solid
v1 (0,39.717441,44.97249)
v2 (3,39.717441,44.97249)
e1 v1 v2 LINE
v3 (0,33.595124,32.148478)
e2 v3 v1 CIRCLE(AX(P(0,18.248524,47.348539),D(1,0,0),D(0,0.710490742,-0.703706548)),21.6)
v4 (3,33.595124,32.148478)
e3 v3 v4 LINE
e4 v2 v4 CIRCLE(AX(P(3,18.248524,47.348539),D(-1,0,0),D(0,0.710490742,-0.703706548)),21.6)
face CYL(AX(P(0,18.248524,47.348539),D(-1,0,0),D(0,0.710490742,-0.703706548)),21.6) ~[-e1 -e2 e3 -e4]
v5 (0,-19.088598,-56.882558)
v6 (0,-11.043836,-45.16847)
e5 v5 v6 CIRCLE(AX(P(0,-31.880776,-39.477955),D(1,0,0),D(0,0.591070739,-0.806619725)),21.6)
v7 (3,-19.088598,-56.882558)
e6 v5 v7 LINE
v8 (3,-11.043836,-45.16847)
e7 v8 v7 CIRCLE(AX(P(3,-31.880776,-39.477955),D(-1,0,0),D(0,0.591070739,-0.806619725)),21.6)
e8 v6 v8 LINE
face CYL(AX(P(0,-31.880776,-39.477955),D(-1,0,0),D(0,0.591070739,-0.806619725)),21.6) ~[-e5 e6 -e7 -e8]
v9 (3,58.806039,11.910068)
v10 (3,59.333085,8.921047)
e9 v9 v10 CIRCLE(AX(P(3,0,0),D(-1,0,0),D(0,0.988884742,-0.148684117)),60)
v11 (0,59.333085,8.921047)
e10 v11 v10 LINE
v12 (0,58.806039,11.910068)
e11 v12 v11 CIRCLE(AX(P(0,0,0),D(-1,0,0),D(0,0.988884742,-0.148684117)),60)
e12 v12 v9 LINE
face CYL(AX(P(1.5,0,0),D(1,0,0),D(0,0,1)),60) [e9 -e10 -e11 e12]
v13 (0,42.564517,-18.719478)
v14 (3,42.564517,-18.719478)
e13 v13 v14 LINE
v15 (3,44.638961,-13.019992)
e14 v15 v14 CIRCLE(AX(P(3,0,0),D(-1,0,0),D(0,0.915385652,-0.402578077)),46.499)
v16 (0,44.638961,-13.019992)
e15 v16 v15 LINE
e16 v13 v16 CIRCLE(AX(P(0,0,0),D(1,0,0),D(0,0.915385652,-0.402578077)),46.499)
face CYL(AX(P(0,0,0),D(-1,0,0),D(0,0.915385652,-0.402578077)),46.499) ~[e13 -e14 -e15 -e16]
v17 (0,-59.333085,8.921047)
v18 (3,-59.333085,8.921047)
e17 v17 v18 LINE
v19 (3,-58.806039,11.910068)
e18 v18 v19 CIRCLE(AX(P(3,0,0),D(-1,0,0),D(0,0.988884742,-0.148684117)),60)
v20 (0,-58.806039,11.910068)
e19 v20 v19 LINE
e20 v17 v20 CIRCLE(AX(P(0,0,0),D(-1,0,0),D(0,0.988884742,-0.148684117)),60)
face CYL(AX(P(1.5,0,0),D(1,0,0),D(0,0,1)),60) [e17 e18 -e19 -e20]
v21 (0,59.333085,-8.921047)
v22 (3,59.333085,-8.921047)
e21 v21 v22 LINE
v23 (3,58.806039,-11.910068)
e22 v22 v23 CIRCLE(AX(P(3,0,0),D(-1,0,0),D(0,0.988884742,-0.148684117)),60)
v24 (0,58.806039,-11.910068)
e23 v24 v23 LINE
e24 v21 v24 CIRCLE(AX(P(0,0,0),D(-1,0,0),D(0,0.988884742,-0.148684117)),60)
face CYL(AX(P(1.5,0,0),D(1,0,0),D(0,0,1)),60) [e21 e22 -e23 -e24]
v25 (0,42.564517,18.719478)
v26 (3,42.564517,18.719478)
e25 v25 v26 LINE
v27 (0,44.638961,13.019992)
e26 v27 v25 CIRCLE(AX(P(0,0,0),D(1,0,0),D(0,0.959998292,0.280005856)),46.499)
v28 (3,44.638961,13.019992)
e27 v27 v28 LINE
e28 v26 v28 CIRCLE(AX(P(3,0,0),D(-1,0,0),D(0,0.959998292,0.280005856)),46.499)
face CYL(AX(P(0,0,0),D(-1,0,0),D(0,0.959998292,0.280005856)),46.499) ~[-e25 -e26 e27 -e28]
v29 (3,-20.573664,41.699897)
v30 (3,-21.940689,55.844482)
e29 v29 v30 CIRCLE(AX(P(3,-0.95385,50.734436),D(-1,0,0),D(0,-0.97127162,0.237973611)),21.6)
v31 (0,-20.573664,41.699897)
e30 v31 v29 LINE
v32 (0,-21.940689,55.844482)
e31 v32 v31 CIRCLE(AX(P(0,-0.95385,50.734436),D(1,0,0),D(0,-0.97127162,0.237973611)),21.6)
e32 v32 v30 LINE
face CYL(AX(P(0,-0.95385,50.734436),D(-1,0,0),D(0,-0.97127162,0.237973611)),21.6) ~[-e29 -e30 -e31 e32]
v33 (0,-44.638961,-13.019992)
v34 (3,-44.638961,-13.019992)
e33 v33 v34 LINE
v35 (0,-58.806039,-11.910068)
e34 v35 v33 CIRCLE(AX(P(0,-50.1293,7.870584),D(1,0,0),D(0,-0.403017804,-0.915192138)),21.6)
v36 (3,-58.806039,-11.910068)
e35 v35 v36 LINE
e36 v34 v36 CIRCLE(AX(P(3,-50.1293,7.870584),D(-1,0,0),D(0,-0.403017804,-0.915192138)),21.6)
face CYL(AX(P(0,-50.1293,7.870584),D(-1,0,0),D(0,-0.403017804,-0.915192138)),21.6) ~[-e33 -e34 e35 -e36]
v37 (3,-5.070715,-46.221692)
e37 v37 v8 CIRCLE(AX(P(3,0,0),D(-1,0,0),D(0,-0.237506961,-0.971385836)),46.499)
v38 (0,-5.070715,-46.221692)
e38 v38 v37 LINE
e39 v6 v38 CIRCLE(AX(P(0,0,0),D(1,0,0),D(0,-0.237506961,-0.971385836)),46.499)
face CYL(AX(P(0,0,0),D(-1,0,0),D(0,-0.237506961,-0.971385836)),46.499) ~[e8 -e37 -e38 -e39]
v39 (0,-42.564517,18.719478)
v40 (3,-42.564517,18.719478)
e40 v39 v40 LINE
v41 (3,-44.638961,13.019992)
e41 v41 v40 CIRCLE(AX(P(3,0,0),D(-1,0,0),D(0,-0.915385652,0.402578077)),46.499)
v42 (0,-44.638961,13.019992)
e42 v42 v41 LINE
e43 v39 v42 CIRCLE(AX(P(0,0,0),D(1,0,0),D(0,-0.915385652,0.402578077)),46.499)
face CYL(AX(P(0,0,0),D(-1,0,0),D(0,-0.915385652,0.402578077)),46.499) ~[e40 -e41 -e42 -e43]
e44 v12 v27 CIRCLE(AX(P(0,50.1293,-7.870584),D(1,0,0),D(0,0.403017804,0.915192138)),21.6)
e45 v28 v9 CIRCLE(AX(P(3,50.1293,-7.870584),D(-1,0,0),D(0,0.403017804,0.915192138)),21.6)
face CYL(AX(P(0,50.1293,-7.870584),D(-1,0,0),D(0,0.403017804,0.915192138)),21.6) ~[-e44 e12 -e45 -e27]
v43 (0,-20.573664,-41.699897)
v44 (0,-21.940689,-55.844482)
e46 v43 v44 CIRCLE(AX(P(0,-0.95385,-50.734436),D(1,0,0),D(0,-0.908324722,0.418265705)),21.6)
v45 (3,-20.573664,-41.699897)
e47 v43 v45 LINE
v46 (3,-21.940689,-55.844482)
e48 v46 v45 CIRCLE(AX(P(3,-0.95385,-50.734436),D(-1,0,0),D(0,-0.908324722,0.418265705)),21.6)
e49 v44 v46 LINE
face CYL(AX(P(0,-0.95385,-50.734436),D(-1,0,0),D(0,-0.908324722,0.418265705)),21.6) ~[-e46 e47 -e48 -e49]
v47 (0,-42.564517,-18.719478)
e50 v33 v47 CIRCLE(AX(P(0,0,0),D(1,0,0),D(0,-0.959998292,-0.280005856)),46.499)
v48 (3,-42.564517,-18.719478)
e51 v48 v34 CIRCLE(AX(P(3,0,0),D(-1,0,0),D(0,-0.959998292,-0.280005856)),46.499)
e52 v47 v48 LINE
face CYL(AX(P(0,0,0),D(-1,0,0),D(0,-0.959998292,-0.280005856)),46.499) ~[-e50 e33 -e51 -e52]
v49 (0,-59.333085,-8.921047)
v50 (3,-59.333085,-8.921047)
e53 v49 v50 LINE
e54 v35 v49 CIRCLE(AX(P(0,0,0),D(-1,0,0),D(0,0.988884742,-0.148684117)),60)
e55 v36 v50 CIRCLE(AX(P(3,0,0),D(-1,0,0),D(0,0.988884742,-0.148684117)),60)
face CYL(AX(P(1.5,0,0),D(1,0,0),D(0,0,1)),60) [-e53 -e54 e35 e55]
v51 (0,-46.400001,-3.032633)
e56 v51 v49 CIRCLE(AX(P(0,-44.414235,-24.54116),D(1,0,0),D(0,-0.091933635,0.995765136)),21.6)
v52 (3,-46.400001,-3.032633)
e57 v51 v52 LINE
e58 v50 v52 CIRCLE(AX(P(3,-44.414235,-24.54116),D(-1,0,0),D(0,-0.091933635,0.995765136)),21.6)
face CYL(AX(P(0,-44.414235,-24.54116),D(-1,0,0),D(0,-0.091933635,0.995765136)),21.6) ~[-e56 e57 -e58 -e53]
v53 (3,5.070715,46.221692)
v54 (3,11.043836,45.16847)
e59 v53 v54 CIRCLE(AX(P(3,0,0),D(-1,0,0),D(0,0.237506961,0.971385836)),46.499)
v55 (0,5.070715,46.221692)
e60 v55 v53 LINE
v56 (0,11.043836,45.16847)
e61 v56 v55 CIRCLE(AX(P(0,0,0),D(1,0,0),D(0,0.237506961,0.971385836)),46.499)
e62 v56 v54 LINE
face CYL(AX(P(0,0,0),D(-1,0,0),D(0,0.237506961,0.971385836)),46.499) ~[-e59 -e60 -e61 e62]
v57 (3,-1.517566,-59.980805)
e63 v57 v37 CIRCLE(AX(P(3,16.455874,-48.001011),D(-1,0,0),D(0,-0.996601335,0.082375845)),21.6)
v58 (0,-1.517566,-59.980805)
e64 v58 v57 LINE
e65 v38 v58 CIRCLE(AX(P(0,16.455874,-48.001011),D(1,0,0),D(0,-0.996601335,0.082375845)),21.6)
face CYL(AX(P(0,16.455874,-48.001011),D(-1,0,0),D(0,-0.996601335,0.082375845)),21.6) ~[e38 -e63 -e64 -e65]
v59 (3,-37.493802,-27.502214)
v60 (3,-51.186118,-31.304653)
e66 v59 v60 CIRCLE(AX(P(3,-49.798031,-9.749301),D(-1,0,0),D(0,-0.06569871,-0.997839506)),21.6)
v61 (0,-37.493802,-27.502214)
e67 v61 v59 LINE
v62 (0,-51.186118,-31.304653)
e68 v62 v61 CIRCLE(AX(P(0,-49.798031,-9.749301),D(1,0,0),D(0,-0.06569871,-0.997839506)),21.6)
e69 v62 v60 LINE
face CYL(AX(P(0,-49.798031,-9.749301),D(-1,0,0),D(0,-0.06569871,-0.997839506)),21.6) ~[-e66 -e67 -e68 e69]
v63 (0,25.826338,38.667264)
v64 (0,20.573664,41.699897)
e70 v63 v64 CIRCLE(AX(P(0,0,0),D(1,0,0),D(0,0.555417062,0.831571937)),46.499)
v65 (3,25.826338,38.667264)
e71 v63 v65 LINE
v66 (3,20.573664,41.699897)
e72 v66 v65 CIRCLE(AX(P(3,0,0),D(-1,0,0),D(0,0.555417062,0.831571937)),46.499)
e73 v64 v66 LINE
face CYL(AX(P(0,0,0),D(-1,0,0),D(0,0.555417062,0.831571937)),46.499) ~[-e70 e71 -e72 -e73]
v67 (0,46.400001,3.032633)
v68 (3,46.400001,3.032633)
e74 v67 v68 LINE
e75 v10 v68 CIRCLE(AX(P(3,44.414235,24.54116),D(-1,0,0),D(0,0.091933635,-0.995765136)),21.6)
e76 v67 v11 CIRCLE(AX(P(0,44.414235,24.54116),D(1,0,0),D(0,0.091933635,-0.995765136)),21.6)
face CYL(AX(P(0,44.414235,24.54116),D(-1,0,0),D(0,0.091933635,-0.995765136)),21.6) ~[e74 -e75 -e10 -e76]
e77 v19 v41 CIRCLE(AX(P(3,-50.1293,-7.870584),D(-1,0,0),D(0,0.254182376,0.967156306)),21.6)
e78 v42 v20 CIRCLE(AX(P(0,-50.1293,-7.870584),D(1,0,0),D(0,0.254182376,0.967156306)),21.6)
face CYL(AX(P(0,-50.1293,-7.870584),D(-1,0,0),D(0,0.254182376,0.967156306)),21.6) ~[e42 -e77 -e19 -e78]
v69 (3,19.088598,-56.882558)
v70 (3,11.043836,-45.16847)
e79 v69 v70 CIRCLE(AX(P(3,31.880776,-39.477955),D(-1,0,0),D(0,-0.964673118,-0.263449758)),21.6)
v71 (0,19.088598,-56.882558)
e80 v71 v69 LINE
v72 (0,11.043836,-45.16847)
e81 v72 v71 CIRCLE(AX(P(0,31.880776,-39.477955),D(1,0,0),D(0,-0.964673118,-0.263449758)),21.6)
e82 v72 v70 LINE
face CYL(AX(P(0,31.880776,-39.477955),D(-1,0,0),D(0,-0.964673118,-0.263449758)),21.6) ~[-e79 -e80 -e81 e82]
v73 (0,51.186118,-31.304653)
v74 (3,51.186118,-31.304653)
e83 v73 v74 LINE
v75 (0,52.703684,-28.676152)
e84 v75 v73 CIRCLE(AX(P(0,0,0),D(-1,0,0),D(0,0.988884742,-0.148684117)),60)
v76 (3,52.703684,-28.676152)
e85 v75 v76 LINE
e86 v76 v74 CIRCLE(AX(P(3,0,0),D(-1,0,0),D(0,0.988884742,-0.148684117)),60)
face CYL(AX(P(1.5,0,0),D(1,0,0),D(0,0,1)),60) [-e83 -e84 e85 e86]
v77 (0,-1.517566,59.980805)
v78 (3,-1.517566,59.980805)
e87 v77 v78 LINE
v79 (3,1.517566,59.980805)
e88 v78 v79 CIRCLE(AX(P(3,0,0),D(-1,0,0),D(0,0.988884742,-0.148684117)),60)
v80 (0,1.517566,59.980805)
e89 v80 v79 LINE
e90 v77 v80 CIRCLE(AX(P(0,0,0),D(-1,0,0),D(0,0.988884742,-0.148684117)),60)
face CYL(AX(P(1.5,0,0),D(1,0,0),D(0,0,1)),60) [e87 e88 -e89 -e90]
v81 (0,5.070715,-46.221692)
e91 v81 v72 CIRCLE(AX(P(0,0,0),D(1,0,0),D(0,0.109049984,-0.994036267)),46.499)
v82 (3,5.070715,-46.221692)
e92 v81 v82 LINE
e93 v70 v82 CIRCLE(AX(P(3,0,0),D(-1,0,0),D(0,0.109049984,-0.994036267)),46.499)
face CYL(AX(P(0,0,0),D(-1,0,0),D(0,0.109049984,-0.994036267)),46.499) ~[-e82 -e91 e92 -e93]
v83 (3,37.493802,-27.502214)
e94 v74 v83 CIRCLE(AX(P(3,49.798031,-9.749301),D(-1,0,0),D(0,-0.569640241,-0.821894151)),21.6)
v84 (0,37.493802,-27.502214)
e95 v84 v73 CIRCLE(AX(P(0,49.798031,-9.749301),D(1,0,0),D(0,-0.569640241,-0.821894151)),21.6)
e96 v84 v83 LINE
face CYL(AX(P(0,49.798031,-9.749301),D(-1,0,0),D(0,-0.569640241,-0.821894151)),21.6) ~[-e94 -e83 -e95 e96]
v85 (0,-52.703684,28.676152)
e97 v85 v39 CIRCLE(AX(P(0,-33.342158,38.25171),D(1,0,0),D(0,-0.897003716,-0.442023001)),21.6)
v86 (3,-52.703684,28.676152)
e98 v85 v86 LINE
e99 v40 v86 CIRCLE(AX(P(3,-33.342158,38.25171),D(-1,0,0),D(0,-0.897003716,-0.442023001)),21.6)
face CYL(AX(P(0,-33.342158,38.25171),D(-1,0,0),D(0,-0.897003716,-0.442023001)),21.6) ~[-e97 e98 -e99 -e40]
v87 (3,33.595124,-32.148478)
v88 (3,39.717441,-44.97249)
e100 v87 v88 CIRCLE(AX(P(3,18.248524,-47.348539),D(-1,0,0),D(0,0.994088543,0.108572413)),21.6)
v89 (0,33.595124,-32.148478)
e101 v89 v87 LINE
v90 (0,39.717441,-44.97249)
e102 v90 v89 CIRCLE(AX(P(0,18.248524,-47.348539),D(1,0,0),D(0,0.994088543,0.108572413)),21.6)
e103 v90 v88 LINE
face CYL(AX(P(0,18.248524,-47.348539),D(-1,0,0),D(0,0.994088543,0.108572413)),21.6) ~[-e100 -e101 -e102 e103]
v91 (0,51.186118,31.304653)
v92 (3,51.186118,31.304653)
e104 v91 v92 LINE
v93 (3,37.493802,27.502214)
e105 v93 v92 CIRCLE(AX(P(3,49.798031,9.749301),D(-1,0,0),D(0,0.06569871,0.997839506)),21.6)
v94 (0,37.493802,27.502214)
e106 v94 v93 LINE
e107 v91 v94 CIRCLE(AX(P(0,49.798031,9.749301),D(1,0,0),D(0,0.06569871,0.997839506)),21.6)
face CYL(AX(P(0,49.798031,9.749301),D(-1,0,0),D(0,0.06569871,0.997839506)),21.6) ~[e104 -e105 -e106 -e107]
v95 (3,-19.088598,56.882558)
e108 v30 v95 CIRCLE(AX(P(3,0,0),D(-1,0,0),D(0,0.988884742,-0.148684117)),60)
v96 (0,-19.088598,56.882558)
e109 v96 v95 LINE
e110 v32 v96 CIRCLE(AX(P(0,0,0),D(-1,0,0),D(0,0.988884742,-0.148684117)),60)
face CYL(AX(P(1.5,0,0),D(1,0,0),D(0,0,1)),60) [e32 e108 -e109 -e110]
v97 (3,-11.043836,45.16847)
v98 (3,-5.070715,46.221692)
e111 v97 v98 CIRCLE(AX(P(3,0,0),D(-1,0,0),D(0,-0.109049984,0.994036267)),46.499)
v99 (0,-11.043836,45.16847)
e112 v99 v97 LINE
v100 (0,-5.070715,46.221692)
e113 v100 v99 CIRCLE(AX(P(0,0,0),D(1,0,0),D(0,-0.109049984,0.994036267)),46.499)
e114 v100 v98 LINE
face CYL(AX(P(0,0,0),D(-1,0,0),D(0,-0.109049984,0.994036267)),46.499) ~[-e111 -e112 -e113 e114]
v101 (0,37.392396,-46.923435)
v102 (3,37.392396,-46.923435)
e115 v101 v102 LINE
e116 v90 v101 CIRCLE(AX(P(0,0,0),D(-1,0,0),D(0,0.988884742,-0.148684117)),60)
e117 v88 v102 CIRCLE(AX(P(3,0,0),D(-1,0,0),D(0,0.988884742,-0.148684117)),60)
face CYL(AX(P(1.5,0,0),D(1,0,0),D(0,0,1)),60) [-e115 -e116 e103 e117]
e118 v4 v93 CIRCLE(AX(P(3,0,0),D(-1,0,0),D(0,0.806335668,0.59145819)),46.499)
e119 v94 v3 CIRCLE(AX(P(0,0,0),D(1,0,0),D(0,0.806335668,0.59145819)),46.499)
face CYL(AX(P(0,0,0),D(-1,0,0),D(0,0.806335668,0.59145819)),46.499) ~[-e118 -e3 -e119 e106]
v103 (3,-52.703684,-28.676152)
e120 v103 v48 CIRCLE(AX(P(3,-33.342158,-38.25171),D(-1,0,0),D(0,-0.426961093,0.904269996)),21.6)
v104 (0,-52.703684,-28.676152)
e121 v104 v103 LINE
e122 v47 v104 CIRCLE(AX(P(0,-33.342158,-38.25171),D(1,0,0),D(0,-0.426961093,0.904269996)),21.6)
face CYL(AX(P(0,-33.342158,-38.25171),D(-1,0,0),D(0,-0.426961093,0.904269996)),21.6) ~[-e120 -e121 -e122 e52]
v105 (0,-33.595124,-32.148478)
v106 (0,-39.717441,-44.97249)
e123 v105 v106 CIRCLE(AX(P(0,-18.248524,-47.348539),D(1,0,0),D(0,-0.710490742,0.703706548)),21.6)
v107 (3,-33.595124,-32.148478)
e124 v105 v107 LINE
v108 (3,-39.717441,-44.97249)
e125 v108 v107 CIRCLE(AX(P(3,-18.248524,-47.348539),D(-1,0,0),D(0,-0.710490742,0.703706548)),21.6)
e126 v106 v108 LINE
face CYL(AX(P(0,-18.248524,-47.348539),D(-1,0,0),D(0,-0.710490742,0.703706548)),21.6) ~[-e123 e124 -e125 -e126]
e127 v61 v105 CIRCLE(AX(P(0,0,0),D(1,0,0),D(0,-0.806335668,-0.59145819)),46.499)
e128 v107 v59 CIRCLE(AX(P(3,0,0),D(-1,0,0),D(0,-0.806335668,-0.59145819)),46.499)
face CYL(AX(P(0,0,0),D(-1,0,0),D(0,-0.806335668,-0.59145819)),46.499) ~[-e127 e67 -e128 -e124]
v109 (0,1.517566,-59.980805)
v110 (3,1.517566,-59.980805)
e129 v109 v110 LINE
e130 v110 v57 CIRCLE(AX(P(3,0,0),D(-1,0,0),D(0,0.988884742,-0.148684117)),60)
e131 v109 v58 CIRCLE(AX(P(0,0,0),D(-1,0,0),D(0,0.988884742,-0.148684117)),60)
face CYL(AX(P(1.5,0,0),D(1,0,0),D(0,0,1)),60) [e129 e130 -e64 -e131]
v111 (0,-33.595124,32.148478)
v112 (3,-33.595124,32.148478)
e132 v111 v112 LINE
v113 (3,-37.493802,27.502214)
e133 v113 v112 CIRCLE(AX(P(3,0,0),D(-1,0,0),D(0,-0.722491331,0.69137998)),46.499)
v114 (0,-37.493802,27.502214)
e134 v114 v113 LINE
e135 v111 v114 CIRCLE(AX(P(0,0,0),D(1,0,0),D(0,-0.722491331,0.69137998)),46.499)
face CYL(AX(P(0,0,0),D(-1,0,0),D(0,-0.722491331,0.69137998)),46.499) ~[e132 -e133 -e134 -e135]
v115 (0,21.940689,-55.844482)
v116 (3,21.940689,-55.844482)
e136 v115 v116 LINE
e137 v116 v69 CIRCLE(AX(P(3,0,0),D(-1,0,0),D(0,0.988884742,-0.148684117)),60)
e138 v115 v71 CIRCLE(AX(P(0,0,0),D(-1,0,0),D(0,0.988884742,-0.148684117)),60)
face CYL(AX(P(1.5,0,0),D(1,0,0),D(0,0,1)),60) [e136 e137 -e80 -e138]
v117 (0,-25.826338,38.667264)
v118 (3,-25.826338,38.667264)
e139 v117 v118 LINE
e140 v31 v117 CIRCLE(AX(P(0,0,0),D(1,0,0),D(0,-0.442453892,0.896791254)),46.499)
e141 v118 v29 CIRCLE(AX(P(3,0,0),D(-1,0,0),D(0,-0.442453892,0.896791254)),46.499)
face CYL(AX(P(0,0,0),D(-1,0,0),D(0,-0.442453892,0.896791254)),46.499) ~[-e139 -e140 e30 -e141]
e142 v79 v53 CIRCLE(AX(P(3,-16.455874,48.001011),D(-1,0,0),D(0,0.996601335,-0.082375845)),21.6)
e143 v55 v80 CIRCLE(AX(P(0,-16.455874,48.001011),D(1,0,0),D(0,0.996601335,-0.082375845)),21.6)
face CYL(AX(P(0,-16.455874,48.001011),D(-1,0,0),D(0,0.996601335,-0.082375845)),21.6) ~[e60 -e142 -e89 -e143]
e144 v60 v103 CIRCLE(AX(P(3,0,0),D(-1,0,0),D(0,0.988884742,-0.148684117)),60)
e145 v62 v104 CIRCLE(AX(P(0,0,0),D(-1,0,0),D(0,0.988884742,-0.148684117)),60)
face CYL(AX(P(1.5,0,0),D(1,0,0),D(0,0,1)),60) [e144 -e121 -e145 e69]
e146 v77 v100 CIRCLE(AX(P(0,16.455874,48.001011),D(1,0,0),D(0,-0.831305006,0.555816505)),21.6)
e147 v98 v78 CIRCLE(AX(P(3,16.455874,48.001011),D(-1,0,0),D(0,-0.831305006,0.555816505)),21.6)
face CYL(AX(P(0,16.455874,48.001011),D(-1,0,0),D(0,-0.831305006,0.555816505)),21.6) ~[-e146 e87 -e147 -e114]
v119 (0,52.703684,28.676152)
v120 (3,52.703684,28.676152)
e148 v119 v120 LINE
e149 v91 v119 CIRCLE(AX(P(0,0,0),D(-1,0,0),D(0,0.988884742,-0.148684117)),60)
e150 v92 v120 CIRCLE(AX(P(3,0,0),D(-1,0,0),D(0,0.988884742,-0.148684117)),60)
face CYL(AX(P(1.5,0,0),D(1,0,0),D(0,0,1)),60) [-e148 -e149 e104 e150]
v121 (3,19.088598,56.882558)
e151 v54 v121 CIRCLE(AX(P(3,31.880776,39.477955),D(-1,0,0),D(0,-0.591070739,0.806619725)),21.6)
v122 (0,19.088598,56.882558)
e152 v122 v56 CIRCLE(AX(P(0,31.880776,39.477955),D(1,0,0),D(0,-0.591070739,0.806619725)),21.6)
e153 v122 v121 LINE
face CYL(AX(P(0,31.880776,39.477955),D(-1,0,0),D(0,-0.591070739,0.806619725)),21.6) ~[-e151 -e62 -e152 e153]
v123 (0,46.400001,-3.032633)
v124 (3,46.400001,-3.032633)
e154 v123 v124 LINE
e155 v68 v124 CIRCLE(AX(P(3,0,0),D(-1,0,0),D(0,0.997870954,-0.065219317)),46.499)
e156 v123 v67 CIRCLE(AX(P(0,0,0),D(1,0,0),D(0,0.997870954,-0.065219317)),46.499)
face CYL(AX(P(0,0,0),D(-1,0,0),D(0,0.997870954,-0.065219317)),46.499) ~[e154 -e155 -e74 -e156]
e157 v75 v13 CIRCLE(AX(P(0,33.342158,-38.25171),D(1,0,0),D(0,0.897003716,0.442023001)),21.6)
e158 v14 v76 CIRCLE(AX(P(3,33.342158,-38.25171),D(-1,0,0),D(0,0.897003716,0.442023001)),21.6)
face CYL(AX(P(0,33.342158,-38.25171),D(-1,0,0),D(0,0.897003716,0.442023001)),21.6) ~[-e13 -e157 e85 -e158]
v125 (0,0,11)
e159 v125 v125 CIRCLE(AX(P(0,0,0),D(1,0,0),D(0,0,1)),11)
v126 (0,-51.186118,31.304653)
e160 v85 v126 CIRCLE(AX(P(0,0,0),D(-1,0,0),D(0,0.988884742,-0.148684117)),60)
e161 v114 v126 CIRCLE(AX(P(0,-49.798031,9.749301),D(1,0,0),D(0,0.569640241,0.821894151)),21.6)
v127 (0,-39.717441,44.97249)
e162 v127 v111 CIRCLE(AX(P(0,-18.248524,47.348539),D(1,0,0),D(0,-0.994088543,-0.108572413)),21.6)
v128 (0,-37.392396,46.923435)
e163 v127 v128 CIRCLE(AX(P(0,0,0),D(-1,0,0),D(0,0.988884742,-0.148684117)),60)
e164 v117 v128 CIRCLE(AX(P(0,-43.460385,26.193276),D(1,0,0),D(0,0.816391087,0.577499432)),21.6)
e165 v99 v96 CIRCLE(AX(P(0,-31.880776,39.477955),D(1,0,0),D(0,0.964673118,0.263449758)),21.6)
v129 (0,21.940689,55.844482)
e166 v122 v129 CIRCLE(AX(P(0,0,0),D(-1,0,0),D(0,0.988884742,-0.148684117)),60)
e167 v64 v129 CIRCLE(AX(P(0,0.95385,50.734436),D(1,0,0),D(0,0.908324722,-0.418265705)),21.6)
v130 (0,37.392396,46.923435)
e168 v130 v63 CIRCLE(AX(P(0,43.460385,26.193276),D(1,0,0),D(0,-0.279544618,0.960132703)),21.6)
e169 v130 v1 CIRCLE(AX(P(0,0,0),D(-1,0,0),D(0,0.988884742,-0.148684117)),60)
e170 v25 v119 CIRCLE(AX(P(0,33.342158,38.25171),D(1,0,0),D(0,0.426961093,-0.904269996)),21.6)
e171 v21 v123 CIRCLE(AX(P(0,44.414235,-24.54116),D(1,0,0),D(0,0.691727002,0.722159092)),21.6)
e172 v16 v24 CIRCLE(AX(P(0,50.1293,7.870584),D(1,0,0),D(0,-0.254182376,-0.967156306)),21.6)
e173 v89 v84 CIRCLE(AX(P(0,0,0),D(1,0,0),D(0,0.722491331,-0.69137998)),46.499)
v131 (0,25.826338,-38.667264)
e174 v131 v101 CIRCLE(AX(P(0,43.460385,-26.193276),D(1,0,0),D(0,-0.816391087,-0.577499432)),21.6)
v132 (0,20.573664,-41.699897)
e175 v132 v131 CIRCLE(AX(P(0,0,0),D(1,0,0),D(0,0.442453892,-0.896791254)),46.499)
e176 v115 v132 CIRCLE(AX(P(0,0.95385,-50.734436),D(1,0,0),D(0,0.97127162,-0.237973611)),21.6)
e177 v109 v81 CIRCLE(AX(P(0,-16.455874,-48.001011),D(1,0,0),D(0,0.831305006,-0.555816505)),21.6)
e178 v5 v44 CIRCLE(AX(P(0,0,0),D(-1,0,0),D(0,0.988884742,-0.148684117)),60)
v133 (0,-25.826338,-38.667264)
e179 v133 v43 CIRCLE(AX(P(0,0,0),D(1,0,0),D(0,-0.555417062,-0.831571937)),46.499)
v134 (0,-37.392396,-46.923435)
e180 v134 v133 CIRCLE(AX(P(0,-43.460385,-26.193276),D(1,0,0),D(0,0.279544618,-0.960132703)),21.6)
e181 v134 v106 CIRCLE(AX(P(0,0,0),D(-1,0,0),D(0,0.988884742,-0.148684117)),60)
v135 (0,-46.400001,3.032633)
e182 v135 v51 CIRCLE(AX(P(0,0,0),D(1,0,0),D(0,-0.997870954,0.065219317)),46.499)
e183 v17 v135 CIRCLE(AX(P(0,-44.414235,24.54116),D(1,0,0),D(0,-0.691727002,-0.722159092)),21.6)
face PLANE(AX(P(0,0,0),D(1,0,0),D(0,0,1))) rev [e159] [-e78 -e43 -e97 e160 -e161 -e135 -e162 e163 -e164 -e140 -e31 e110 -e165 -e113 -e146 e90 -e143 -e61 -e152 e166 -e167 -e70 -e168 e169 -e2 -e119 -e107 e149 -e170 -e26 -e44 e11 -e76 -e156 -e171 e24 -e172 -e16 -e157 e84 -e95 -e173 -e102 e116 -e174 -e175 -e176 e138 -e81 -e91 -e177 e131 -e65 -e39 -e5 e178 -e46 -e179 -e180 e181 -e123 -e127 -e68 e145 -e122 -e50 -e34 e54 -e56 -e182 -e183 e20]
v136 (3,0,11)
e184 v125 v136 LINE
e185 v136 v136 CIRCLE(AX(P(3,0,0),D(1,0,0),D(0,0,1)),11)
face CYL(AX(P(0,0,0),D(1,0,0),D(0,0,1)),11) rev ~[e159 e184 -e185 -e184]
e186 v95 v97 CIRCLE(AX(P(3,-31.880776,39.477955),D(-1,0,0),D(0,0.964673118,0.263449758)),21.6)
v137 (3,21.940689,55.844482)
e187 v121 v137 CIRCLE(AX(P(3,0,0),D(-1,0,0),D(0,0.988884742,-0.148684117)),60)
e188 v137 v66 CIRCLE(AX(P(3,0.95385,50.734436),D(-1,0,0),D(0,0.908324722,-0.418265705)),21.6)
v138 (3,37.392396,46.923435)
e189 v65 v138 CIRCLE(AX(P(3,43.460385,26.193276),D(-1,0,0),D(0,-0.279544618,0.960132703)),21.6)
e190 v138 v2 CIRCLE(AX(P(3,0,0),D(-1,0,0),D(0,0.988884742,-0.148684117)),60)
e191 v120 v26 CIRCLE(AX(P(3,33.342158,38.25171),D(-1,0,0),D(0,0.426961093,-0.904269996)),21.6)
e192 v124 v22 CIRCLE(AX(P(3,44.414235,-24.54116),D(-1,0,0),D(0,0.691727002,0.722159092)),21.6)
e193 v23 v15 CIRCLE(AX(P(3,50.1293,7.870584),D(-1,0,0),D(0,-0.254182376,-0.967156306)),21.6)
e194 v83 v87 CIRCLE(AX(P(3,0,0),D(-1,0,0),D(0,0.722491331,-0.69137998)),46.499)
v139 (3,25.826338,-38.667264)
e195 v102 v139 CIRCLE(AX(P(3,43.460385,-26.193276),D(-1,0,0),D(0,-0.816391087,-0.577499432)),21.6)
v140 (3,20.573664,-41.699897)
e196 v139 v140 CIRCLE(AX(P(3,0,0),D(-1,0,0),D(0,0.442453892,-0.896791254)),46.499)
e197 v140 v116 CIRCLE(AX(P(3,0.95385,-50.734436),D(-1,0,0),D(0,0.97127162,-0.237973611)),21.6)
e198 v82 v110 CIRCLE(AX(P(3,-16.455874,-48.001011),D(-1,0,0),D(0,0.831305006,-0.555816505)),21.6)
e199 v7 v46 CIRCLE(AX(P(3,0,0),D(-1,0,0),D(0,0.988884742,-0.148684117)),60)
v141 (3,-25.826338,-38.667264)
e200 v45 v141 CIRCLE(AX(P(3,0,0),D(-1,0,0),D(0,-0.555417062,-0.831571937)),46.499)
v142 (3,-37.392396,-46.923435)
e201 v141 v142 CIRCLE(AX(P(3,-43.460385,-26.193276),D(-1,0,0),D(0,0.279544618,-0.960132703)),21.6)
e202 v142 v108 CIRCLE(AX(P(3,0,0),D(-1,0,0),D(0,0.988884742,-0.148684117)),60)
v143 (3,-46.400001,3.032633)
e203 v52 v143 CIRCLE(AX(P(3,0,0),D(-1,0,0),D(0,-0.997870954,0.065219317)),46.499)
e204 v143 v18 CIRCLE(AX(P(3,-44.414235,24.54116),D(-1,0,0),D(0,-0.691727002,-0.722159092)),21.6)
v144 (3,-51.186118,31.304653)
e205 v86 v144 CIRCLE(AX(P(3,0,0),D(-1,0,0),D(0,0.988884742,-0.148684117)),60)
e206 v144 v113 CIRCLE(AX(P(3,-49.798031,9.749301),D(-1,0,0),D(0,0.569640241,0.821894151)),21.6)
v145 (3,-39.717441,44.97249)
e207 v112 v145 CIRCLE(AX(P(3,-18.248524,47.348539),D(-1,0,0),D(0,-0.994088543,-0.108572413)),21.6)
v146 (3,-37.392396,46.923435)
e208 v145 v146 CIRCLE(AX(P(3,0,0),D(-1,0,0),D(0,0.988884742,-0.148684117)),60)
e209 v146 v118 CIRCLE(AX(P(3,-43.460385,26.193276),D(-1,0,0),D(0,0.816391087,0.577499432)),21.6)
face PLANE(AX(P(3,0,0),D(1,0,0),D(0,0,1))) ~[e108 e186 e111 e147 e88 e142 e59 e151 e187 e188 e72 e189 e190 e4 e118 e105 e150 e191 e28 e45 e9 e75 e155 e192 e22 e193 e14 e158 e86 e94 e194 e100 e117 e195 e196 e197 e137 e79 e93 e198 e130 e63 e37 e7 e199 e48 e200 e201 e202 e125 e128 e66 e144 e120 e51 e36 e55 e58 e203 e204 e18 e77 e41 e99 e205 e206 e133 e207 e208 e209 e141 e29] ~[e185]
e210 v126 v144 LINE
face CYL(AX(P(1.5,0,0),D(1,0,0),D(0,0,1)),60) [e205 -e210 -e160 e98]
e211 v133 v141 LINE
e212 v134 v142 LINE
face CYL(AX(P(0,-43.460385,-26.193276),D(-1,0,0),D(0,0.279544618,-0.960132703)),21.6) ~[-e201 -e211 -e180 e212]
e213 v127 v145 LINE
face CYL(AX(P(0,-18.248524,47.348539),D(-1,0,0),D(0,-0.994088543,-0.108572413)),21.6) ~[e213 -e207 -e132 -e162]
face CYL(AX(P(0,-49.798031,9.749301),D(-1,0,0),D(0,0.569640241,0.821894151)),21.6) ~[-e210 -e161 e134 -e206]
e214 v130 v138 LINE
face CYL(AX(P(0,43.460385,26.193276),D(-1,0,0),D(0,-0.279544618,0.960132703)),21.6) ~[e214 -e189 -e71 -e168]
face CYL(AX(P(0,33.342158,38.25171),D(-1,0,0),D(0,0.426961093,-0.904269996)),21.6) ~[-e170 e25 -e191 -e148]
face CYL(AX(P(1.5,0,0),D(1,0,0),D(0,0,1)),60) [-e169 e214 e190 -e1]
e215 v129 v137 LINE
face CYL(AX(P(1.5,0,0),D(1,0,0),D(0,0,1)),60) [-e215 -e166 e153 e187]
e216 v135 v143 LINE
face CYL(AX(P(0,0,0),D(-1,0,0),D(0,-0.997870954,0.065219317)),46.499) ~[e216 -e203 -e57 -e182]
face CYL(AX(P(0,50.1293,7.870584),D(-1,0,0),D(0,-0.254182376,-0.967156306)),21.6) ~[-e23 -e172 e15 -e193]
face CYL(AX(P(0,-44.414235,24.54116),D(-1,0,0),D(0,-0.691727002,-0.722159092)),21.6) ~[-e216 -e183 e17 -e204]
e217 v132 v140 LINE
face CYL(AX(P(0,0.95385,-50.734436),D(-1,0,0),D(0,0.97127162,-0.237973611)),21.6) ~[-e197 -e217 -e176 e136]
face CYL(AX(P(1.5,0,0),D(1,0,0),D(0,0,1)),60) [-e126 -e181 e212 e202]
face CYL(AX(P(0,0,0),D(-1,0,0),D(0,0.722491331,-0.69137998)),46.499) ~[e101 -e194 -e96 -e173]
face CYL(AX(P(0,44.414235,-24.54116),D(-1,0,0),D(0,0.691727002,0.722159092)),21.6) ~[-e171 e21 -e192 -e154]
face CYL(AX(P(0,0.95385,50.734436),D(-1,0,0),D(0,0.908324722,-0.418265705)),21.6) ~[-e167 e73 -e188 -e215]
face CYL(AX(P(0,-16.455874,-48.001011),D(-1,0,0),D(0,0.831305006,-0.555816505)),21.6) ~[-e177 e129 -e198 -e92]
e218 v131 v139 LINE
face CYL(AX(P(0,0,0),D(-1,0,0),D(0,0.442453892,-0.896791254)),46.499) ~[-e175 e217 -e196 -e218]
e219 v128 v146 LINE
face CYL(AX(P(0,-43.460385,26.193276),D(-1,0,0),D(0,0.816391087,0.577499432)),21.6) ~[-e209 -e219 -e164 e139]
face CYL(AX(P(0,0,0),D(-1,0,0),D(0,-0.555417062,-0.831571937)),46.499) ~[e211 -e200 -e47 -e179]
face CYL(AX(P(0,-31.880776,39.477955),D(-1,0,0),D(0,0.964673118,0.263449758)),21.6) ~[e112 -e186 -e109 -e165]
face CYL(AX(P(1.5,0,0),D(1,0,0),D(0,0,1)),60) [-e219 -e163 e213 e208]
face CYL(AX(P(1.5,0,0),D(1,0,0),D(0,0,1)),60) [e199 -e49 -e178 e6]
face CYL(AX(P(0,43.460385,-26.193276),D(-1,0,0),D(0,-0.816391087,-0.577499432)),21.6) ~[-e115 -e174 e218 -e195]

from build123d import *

# Parameters (mm, degrees)
BASPROSKE_W     = 3
BASPROSKE_H     = 60
TOOTHCUT_DEPTH  = 85.905830188
TEETHCUTS_COUNT = 18
TEETHCUTS_ANGLE = 340
BORSKE_R        = 11
BORE_DEPTH      = 50.0000508


with BuildPart() as part:
    # BasProSke → Base-Revolve (revolve)
    with BuildSketch(Plane(origin=(0, 0, 0), x_dir=(1, 0, 0), z_dir=(0, 1, 0)), mode=Mode.PRIVATE) as base_revolve_sk:
        with Locations((1.5, 30)):
            Rectangle(BASPROSKE_W, BASPROSKE_H)
    revolve(base_revolve_sk.sketch.rotate(Axis((-10, 0, 0), (1, 0, 0)), 180), axis=Axis((-10, 0, 0), (1, 0, 0)))

    # TooCutSke → ToothCut (cut, through all)
    with BuildSketch(Plane(origin=(0, 0, 0), x_dir=(0, 0, -1), z_dir=(1, 0, 0))):
        with BuildLine():
            ThreePointArc((3.032632993, 46.400001488), (0, 46.499), (-3.032632993, 46.400001488))
            ThreePointArc((-3.032632993, 46.400001488), (-4.88926752, 53.378783166), (-8.942523553, 59.355538222))
            ThreePointArc((-8.942523553, 59.355538222), (0, 60.0254), (8.942523553, 59.355538222))
            ThreePointArc((8.942523553, 59.355538222), (4.88926752, 53.378783166), (3.032632993, 46.400001488))
        make_face()
    toothcut = extrude(amount=TOOTHCUT_DEPTH, mode=Mode.SUBTRACT)

    # TeethCuts: ToothCut ×18 about axis
    teethcuts_axis = Axis((-10, 0, 0), (1, 0, 0))
    for i in range(1, TEETHCUTS_COUNT):
        add(toothcut.rotate(teethcuts_axis, i * TEETHCUTS_ANGLE / (TEETHCUTS_COUNT - 1)), mode=Mode.SUBTRACT)

    # BorSke → Bore (cut, symmetric)
    with BuildSketch(Plane(origin=(0, 0, 0), x_dir=(0, 0, -1), z_dir=(1, 0, 0))):
        with Locations(Location((0, 0, 0), (0, 0, 180))):
            Circle(BORSKE_R)
    extrude(amount=BORE_DEPTH, both=True, mode=Mode.SUBTRACT)


solid = part.part
